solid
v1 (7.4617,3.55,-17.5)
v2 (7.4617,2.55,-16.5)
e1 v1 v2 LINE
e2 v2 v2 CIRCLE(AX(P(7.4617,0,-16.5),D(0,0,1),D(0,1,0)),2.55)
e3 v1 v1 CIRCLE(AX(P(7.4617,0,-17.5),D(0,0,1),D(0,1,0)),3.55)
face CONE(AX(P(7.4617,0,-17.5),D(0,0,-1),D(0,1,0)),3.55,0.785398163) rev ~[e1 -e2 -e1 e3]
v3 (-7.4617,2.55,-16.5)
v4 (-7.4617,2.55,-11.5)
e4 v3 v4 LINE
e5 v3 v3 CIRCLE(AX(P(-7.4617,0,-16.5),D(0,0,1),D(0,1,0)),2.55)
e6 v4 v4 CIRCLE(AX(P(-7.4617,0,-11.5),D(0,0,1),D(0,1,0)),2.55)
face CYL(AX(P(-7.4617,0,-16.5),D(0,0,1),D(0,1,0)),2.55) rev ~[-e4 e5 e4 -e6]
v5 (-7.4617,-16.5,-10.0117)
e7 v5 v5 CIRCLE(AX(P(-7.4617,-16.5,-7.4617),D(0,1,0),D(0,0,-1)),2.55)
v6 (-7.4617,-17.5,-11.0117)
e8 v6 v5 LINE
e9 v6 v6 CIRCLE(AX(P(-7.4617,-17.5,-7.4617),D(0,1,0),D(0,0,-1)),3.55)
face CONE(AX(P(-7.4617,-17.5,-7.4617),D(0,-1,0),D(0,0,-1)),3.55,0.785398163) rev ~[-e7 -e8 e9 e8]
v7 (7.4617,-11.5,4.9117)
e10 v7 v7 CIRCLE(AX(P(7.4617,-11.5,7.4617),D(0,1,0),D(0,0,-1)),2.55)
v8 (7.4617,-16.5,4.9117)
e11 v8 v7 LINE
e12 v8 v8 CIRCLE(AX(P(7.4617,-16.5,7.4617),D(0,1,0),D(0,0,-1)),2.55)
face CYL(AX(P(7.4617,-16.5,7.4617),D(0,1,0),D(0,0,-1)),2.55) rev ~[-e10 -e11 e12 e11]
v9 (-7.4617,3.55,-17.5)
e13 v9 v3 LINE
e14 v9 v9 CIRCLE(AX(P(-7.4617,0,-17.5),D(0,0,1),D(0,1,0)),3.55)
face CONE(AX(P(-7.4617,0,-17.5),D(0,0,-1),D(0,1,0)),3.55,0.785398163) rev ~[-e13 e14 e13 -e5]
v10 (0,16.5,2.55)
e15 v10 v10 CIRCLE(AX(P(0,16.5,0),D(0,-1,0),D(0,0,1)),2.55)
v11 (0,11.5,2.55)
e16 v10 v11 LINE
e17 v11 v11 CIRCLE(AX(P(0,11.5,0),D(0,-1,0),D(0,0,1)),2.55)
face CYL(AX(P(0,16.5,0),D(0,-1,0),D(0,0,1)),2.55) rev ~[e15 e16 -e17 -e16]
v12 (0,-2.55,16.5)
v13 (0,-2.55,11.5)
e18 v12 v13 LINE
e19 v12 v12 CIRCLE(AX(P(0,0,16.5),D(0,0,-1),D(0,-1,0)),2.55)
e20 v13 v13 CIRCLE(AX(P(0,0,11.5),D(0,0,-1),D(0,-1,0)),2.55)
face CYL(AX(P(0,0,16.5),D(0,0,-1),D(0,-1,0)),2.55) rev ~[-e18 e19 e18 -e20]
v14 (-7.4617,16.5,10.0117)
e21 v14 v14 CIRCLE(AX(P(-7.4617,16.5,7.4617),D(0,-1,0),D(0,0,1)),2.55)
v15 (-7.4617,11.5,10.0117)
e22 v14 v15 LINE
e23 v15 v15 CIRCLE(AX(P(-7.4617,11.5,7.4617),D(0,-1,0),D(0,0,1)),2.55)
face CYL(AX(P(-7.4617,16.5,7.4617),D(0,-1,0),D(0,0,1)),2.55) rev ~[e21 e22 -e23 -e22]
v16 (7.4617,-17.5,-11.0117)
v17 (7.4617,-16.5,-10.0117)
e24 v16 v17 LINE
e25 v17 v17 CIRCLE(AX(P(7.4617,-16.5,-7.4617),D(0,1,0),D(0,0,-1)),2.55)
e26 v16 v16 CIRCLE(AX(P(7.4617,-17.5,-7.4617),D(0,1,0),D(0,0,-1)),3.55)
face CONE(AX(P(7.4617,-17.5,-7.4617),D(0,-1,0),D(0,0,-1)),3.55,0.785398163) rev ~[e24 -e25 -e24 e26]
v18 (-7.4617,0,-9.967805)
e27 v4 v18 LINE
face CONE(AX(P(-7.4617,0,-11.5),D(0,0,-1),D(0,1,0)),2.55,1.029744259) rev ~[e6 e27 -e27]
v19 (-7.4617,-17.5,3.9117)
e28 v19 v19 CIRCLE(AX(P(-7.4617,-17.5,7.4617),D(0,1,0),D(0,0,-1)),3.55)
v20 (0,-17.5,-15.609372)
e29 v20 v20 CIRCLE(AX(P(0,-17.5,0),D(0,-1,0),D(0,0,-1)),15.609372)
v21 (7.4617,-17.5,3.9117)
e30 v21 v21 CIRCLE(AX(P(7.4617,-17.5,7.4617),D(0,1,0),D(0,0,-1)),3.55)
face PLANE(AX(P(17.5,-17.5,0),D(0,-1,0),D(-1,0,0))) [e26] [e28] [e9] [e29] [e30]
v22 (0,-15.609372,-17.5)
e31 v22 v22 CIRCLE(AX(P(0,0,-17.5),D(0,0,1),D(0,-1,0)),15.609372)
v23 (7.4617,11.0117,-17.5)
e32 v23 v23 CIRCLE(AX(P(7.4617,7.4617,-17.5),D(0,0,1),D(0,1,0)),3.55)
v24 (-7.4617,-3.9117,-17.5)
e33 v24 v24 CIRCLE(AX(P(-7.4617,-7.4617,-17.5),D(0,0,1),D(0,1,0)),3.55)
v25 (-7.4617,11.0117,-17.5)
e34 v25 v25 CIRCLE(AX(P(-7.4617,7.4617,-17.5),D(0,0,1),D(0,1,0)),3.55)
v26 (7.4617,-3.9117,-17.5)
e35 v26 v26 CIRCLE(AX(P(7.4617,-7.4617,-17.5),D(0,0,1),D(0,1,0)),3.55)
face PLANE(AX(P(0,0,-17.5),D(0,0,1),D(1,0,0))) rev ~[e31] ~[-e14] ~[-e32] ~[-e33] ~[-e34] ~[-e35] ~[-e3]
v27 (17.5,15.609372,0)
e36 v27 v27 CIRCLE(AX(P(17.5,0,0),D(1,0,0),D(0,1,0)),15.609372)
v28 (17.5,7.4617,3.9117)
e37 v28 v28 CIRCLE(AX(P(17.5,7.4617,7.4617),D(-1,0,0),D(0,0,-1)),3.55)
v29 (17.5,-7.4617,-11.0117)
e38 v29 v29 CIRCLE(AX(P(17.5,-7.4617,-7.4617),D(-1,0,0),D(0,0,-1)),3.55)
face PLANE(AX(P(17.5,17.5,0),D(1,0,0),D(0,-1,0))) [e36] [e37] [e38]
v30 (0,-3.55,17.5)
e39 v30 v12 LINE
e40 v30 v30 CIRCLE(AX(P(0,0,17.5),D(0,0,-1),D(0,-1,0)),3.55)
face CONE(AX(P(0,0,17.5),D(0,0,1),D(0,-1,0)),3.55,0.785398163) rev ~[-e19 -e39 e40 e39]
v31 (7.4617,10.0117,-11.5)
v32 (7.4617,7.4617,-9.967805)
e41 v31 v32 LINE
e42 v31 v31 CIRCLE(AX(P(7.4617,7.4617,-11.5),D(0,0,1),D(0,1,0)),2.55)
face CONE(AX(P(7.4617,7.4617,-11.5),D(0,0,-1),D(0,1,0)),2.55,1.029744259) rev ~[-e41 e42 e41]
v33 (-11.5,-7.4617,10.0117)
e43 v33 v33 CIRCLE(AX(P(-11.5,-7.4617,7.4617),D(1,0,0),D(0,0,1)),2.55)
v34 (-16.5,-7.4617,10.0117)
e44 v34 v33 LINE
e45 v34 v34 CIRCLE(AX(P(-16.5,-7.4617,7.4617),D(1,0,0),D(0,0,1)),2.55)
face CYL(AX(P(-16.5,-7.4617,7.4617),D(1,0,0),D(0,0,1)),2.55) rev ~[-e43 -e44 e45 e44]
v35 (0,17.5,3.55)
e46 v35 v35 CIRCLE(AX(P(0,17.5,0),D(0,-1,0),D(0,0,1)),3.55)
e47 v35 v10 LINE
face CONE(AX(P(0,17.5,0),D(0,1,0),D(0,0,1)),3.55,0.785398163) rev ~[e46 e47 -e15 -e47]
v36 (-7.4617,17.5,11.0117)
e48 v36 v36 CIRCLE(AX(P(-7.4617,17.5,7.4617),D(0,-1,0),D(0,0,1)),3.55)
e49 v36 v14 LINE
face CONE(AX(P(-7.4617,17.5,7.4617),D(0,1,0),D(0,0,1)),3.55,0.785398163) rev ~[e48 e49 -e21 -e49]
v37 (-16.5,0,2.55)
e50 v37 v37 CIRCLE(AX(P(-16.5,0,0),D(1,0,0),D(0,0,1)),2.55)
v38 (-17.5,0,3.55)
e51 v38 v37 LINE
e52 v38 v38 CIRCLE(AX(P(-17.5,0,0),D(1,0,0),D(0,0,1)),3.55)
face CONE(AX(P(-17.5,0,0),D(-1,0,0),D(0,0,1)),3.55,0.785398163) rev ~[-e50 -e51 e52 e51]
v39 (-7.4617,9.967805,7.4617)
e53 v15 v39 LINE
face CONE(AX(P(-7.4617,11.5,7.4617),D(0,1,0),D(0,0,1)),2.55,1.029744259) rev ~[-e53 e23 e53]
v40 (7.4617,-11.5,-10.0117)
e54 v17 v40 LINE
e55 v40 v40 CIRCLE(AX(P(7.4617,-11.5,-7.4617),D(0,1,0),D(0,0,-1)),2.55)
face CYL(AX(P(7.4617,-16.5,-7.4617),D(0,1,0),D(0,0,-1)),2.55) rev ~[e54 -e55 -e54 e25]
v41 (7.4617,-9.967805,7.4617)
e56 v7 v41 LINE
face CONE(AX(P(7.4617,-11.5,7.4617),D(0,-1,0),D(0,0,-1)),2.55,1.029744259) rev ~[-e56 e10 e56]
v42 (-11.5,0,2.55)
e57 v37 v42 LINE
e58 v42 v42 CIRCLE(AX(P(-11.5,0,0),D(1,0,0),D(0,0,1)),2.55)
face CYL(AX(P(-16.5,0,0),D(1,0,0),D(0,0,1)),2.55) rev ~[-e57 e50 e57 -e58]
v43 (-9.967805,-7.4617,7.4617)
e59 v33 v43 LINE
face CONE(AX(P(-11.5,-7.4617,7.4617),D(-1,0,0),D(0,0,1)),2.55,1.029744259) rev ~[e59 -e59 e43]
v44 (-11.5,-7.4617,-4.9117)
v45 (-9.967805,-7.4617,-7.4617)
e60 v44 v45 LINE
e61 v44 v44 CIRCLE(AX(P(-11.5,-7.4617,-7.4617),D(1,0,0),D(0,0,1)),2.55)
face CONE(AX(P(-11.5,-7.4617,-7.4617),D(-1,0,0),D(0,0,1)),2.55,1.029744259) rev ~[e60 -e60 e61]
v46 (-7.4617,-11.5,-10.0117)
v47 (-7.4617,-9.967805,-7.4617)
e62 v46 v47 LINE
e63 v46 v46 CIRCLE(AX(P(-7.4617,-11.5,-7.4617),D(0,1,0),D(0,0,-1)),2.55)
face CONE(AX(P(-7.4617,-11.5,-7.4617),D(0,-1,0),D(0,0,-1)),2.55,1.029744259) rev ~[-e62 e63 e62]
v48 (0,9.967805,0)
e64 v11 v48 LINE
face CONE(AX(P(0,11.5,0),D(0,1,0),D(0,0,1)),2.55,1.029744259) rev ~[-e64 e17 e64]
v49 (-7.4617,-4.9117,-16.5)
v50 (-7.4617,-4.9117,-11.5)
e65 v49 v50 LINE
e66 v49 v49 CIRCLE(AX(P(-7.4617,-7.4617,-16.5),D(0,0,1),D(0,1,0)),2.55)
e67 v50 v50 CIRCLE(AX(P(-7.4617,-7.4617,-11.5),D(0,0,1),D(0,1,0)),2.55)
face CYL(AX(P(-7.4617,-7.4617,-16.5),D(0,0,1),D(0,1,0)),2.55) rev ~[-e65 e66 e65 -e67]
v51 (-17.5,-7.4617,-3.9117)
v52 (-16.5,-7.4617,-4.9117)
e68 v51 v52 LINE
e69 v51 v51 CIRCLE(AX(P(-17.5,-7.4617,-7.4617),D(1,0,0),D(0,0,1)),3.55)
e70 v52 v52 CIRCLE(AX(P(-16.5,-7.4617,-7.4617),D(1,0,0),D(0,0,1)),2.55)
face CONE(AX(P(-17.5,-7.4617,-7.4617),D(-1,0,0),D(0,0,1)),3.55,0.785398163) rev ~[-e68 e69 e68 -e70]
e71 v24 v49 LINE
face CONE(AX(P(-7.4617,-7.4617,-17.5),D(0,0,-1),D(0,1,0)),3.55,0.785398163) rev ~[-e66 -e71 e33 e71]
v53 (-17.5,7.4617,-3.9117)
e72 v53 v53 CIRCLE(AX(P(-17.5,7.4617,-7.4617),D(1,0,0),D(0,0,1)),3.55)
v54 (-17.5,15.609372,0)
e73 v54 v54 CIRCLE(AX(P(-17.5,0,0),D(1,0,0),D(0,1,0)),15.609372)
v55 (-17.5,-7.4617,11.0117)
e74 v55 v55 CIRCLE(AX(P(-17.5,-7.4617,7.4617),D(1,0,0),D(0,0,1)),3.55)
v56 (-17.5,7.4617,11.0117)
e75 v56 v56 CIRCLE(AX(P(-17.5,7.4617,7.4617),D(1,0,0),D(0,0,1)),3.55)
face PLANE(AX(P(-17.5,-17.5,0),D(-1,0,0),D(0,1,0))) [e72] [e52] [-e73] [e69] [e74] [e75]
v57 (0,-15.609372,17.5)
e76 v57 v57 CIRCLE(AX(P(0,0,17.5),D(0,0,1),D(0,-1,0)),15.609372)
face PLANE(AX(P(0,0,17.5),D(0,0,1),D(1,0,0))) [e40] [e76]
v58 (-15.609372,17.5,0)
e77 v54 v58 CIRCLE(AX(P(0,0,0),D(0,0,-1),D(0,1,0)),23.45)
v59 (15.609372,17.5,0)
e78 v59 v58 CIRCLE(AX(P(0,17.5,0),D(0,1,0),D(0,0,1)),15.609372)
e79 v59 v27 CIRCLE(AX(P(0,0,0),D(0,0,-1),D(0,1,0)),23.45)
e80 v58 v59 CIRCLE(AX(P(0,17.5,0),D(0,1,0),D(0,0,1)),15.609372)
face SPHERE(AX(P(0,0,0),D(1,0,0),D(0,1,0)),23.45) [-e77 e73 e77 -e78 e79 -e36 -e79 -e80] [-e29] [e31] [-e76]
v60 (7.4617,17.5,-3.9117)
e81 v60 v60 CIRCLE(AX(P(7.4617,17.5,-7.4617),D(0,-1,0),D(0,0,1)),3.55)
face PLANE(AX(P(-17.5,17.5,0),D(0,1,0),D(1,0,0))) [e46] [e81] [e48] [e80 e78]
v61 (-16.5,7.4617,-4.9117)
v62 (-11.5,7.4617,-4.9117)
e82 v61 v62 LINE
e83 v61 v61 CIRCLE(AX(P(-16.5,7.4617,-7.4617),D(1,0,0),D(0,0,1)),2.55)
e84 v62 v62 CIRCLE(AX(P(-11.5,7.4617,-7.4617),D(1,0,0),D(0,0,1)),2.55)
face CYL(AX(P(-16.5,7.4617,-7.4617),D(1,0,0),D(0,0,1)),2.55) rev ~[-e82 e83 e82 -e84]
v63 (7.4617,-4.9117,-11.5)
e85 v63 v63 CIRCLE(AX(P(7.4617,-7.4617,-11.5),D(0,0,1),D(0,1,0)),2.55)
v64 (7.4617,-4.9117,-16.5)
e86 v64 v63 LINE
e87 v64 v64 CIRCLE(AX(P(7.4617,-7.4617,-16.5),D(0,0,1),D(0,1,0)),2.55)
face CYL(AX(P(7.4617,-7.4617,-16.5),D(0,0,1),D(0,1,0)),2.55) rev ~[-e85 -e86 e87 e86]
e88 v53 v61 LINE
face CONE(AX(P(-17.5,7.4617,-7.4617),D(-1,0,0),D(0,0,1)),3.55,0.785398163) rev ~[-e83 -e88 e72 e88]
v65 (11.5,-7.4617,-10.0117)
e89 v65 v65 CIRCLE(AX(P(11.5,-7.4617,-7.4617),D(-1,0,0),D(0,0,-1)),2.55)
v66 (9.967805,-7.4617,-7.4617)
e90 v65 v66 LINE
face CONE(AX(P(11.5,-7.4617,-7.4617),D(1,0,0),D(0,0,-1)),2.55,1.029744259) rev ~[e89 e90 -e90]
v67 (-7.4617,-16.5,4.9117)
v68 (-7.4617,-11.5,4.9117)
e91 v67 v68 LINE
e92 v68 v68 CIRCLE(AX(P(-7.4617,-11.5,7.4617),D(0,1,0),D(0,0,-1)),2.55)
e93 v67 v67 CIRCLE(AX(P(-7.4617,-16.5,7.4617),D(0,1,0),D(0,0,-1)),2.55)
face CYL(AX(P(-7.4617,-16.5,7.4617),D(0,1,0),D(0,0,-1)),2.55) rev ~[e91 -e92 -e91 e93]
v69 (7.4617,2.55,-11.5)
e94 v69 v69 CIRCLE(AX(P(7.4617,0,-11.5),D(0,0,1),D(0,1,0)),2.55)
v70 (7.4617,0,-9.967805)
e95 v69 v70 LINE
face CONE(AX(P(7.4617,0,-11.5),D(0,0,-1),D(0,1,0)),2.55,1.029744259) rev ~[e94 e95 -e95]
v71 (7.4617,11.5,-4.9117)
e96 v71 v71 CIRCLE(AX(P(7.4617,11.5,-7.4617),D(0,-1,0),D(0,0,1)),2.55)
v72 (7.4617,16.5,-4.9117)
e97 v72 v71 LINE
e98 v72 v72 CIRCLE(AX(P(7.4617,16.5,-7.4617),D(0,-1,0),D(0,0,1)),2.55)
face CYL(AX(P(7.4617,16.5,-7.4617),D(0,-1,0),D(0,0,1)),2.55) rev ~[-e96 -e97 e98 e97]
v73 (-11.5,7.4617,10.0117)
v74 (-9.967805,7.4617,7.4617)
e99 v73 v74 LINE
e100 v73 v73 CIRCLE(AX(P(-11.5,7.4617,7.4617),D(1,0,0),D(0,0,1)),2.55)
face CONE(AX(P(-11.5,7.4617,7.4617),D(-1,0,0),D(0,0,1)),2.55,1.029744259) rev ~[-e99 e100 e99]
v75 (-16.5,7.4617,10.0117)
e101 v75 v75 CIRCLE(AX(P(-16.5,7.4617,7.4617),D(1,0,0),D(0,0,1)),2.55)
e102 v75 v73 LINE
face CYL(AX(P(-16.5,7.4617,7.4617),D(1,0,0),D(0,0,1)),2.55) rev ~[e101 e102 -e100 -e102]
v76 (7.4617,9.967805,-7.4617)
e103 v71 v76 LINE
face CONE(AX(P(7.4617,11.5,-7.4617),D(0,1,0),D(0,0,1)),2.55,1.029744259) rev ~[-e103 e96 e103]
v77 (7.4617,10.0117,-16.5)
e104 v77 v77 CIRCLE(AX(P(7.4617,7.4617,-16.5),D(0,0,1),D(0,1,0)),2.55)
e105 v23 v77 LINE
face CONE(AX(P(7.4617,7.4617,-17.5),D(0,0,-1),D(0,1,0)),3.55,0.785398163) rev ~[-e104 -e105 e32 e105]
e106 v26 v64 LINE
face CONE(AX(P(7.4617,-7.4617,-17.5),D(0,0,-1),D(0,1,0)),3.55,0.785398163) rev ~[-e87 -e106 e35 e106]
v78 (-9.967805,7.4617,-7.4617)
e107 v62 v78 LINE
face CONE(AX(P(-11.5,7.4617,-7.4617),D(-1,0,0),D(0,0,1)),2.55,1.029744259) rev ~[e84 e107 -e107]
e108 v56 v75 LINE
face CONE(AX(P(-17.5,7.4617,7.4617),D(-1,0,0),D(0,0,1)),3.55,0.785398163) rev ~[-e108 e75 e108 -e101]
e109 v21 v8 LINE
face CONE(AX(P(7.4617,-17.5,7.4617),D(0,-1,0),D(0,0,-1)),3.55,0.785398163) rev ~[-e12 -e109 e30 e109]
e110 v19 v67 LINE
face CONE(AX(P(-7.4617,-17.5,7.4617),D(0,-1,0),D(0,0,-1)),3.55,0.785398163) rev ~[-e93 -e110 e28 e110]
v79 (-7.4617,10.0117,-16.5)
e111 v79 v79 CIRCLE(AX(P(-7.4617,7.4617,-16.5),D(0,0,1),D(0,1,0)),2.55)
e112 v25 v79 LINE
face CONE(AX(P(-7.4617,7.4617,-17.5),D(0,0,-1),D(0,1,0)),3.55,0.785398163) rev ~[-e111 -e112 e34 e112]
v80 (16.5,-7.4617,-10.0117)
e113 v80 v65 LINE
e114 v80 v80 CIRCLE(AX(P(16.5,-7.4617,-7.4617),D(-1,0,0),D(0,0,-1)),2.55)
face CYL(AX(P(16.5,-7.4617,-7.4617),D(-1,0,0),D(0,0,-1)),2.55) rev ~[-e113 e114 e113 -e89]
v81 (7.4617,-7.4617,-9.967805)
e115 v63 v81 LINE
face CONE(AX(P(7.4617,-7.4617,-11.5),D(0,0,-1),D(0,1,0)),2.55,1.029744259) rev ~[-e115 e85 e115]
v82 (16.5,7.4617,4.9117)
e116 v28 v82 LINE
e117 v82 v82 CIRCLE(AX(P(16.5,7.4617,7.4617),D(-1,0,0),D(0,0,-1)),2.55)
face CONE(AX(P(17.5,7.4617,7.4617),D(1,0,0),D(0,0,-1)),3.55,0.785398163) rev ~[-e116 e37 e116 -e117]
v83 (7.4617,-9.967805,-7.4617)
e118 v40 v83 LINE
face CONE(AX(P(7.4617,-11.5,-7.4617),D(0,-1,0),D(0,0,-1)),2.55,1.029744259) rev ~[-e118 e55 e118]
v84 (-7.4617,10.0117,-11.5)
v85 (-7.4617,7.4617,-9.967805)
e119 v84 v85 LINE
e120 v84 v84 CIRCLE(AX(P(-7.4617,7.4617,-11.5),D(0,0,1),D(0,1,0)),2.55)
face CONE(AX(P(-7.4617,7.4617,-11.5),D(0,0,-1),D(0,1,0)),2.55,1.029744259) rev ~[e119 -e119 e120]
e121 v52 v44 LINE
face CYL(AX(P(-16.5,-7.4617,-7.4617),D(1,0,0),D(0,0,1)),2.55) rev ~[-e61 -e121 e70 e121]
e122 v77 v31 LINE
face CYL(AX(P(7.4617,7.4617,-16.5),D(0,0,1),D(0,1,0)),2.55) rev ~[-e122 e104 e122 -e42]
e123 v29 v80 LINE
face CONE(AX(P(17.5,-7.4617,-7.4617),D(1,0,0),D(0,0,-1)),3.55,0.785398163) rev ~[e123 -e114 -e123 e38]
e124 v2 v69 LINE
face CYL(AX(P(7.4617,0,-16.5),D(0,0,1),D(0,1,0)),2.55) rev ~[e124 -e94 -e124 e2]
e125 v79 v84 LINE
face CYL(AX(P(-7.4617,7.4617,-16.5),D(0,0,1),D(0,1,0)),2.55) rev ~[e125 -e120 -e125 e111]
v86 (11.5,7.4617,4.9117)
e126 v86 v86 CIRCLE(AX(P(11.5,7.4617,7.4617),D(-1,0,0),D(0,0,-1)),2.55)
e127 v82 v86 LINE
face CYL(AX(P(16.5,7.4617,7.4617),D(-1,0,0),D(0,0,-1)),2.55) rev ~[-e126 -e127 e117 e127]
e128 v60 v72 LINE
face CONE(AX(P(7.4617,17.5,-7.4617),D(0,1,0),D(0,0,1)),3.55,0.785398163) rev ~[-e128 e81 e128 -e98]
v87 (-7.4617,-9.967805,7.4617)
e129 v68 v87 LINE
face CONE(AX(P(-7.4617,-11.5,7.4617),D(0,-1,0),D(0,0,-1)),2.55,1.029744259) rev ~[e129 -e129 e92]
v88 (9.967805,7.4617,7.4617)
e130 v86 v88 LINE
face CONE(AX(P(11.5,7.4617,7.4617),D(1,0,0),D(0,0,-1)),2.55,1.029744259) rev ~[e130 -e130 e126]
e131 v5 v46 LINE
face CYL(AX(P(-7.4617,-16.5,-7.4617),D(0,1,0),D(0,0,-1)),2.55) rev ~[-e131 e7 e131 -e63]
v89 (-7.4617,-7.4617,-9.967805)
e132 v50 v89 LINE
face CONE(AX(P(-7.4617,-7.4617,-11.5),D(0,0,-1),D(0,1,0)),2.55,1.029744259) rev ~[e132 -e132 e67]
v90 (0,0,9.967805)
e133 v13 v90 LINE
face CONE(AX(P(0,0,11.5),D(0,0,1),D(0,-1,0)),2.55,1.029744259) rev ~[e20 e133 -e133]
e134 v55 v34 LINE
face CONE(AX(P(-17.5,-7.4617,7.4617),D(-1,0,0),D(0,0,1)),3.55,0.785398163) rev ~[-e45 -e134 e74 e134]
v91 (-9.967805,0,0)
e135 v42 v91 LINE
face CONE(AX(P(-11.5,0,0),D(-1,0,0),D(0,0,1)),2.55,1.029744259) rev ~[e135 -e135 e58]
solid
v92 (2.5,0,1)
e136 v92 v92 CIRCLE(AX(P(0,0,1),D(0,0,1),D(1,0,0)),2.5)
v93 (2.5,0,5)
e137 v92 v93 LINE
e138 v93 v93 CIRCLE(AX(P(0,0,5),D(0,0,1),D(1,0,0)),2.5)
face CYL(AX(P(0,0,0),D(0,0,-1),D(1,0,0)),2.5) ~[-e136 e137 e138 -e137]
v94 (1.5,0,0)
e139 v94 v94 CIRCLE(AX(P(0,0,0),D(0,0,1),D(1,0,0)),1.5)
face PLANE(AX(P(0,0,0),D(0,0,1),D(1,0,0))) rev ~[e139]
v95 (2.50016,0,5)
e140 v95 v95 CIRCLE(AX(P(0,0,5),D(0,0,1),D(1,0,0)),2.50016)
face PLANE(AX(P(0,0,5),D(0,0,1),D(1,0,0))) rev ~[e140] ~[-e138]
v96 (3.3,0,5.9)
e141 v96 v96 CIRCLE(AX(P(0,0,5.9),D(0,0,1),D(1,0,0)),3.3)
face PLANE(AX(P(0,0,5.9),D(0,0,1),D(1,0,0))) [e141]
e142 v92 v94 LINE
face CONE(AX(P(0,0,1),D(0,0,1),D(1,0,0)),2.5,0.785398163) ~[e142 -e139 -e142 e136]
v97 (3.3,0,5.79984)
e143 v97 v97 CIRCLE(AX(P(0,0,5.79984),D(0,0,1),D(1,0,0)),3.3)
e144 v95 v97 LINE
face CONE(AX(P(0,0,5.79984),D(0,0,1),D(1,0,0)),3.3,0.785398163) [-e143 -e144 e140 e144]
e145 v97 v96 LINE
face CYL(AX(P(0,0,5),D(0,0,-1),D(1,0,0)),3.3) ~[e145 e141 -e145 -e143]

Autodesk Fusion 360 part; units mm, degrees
sketch "Base" plane through (0, 0, 0) normal (0, 0, 1) x (1, 0, 0)
  line L0 (17.5, -17.5) -> (-17.5, -17.5)
  line L1 (-17.5, -17.5) -> (-17.5, 17.5)
  line L2 (-17.5, 17.5) -> (17.5, 17.5)
  line L3 (17.5, 17.5) -> (17.5, -17.5)
  line L4 (17.5, -17.5) -> (-17.5, 17.5) construction
  line L5 (-17.5, -17.5) -> (17.5, 17.5) construction
  dimension "d3" = 35
  dimension "d4" = 35
extrude "Extrude1" add sketch "Base" along normal mid plane 35 makes body 1
sphere "SpherePrimitive1" cut diameter 46.9 placed x (0, 1, 0) y (0, 0, 1) z (1, 0, 0) at (0, 0, 0) keep common part bodies 1
sketch "Sketch3" plane through (0, 0, -17.5) normal (0, 0, -1) x (1, 0, 0)
  circle A0 centre (0, 0) radius 15.6094
  circle A1 centre (0, 0) radius 10.5525 construction
  line L0 (-17.5, 17.5) -> (17.5, -17.5) construction
  line L1 (17.5, 17.5) -> (-17.5, -17.5) construction
  point P0 (7.4617, -7.4617)
  point P1 (-7.4617, -7.4617)
  point P2 (-7.4617, 7.4617)
  point P3 (7.4617, 7.4617)
  point P4 (7.4617, 0)
  point P5 (-7.4617, 0)
  dimension "d14" = 21.105
sketch "Sketch4" plane through (-17.5, 0, 0) normal (-1, 0, 0) x (0, -1, 0)
  circle A0 centre (0, 0) radius 15.6094
  line L0 (-7.4617, 7.4617) -> (7.4617, 7.4617) construction
  line L1 (7.4617, 7.4617) -> (7.4617, -7.4617) construction
  line L2 (7.4617, -7.4617) -> (-7.4617, -7.4617) construction
  line L3 (-7.4617, -7.4617) -> (-7.4617, 7.4617) construction
  line L4 (-7.4617, 7.4617) -> (7.4617, -7.4617) construction
  line L5 (7.4617, 7.4617) -> (-7.4617, -7.4617) construction
  point P0 (-7.4617, -7.4617)
  point P1 (7.4617, -7.4617)
  point P2 (7.4617, 7.4617)
  point P3 (-7.4617, 7.4617)
  dimension "d15" = 21.105
sketch "Sketch5" plane through (0, -17.5, 0) normal (0, -1, 0) x (1, 0, 0)
  circle A0 centre (0, 0) radius 15.6094
  line L0 (-7.4617, 7.4617) -> (7.4617, 7.4617) construction
  line L1 (7.4617, 7.4617) -> (7.4617, -7.4617) construction
  line L2 (7.4617, -7.4617) -> (-7.4617, -7.4617) construction
  line L3 (-7.4617, -7.4617) -> (-7.4617, 7.4617) construction
  line L4 (-7.4617, 7.4617) -> (7.4617, -7.4617) construction
  line L5 (7.4617, 7.4617) -> (-7.4617, -7.4617) construction
  point P0 (-7.4617, -7.4617)
  point P1 (7.4617, -7.4617)
  point P2 (7.4617, 7.4617)
  point P3 (-7.4617, 7.4617)
  dimension "d18" = 21.105
sketch "Sketch6" plane through (0, 17.5, 0) normal (0, 1, 0) x (-1, 0, 0)
  circle A0 centre (0, 0) radius 15.6094
  point P0 (7.4617, 7.4617)
  point P1 (-7.4617, -7.4617)
  point P2 (-7.4617, -7.4617)
  point P3 (7.4617, 7.4617)
sketch "Sketch7" plane through (17.5, 0, 0) normal (1, 0, 0) x (0, 1, 0)
  circle A0 centre (0, 0) radius 15.6094
  point P0 (7.4617, 7.4617)
  point P1 (-7.4617, -7.4617)
  point P2 (7.4617, 7.4617)
  point P3 (-7.4617, -7.4617)
sketch "Sketch9" plane through (0, 0, 17.5) normal (0, 0, 1) x (-1, 0, 0)
  circle A0 centre (0, 0) radius 15.6094
hole "6 (1)" at (7.4617, 7.4617, -17.5) at (-7.4617, 7.4617, -17.5) at (-7.4617, 0, -17.5) at (-7.4617, -7.4617, -17.5) at (7.4617, -7.4617, -17.5) at (7.4617, 0, -17.5) direction (0, 0, 1) diameter 5.1 depth 6 tip angle 118 countersink diameter 7.1 countersink angle 90 bodies 1
hole "1" at (0, 0, 17.5) direction (0, 0, -1) diameter 5.1 depth 6 tip angle 118 countersink diameter 7.1 countersink angle 90 bodies 1
hole "2 (1)" at (17.5, 7.4617, 7.4617) at (17.5, -7.4617, -7.4617) direction (-1, 0, 0) diameter 5.1 depth 6 tip angle 118 countersink diameter 7.1 countersink angle 90 bodies 1
hole "5 (1)" at (-17.5, -7.4617, -7.4617) at (-17.5, 7.4617, -7.4617) at (-17.5, 0, 0) at (-17.5, 7.4617, 7.4617) at (-17.5, -7.4617, 7.4617) direction (1, 0, 0) diameter 5.1 depth 6 tip angle 118 countersink diameter 7.1 countersink angle 90 bodies 1
hole "3 (1)" at (-7.4617, 17.5, 7.4617) at (7.4617, 17.5, -7.4617) at (0, 17.5, 0) direction (0, -1, 0) diameter 5.1 depth 6 tip angle 118 countersink diameter 7.1 countersink angle 90 bodies 1
hole "4 (1)" at (-7.4617, -17.5, -7.4617) at (-7.4617, -17.5, 7.4617) at (7.4617, -17.5, 7.4617) at (7.4617, -17.5, -7.4617) direction (0, 1, 0) diameter 5.1 depth 6 tip angle 118 countersink diameter 7.1 countersink angle 90 bodies 1
sketch "Pin" plane through (0, 0, 0) normal (0, 0, 1) x (1, 0, 0)
  circle A0 centre (0, 0) radius 2.5
  circle A1 centre (0, 0) radius 3.3
  dimension "d70" = 5
  dimension "d75" = 0.8
extrude "Extrude8" add sketch "Pin" along normal blind 5 separate body contours A0 makes body 2
chamfer "Chamfer3" distance 1 angle 45 1 edges at (-2.3308, -0.904, 0) on bodies 2
extrude "Extrude9" add sketch "Pin" along normal blind 0.9 from surface at 5 contours A0 | A1 bodies 2
chamfer "Chamfer4" distance 0.8 angle 45 1 edges at (-3.0767, 1.1933, 5) on bodies 2
equation "w = 35 mm" comment "Strana krychle"
equation "D = w * 1.34" comment "Průměr koule"
equation "d3 = w"
equation "d4 = w"
equation "d5 = w"
equation "d7 = D"
equation "Dh = Dk + 0.1 mm" comment "Průměr otvoru"
equation "k = 0.45" comment "Koeficient rozpěru umístění teček"
equation "d14 = k * D"
equation "d15 = D * k"
equation "d18 = D * k"
equation "h = 6 mm" comment "Hloubka otvoru"
equation "ch = 0.4 mm" comment "Sražení hran otvorů"
equation "Dk = 5 mm" comment "Průměr tečky"
equation "d39 = h"
equation "d40 = Dh"
equation "d42 = Dh + Do"
equation "Do = 2 mm" comment "Osazení otvoru"
equation "d45 = h"
equation "d46 = Dh"
equation "d48 = Dh + Do"
equation "d50 = h"
equation "d51 = Dh"
equation "d53 = Dh + Do"
equation "d55 = h"
equation "d56 = Dh"
equation "d58 = Dh + Do"
equation "d60 = h"
equation "d61 = Dh"
equation "d63 = Dh + Do"
equation "d65 = h"
equation "d66 = Dh"
equation "d68 = Dh + Do"
equation "d70 = Dk"
equation "d71 = h - 0.5 * Do"
equation "d75 = Do / 2.5"
equation "d77 = Do - 1.1 mm"
equation "d79 = Do / 2.5"
